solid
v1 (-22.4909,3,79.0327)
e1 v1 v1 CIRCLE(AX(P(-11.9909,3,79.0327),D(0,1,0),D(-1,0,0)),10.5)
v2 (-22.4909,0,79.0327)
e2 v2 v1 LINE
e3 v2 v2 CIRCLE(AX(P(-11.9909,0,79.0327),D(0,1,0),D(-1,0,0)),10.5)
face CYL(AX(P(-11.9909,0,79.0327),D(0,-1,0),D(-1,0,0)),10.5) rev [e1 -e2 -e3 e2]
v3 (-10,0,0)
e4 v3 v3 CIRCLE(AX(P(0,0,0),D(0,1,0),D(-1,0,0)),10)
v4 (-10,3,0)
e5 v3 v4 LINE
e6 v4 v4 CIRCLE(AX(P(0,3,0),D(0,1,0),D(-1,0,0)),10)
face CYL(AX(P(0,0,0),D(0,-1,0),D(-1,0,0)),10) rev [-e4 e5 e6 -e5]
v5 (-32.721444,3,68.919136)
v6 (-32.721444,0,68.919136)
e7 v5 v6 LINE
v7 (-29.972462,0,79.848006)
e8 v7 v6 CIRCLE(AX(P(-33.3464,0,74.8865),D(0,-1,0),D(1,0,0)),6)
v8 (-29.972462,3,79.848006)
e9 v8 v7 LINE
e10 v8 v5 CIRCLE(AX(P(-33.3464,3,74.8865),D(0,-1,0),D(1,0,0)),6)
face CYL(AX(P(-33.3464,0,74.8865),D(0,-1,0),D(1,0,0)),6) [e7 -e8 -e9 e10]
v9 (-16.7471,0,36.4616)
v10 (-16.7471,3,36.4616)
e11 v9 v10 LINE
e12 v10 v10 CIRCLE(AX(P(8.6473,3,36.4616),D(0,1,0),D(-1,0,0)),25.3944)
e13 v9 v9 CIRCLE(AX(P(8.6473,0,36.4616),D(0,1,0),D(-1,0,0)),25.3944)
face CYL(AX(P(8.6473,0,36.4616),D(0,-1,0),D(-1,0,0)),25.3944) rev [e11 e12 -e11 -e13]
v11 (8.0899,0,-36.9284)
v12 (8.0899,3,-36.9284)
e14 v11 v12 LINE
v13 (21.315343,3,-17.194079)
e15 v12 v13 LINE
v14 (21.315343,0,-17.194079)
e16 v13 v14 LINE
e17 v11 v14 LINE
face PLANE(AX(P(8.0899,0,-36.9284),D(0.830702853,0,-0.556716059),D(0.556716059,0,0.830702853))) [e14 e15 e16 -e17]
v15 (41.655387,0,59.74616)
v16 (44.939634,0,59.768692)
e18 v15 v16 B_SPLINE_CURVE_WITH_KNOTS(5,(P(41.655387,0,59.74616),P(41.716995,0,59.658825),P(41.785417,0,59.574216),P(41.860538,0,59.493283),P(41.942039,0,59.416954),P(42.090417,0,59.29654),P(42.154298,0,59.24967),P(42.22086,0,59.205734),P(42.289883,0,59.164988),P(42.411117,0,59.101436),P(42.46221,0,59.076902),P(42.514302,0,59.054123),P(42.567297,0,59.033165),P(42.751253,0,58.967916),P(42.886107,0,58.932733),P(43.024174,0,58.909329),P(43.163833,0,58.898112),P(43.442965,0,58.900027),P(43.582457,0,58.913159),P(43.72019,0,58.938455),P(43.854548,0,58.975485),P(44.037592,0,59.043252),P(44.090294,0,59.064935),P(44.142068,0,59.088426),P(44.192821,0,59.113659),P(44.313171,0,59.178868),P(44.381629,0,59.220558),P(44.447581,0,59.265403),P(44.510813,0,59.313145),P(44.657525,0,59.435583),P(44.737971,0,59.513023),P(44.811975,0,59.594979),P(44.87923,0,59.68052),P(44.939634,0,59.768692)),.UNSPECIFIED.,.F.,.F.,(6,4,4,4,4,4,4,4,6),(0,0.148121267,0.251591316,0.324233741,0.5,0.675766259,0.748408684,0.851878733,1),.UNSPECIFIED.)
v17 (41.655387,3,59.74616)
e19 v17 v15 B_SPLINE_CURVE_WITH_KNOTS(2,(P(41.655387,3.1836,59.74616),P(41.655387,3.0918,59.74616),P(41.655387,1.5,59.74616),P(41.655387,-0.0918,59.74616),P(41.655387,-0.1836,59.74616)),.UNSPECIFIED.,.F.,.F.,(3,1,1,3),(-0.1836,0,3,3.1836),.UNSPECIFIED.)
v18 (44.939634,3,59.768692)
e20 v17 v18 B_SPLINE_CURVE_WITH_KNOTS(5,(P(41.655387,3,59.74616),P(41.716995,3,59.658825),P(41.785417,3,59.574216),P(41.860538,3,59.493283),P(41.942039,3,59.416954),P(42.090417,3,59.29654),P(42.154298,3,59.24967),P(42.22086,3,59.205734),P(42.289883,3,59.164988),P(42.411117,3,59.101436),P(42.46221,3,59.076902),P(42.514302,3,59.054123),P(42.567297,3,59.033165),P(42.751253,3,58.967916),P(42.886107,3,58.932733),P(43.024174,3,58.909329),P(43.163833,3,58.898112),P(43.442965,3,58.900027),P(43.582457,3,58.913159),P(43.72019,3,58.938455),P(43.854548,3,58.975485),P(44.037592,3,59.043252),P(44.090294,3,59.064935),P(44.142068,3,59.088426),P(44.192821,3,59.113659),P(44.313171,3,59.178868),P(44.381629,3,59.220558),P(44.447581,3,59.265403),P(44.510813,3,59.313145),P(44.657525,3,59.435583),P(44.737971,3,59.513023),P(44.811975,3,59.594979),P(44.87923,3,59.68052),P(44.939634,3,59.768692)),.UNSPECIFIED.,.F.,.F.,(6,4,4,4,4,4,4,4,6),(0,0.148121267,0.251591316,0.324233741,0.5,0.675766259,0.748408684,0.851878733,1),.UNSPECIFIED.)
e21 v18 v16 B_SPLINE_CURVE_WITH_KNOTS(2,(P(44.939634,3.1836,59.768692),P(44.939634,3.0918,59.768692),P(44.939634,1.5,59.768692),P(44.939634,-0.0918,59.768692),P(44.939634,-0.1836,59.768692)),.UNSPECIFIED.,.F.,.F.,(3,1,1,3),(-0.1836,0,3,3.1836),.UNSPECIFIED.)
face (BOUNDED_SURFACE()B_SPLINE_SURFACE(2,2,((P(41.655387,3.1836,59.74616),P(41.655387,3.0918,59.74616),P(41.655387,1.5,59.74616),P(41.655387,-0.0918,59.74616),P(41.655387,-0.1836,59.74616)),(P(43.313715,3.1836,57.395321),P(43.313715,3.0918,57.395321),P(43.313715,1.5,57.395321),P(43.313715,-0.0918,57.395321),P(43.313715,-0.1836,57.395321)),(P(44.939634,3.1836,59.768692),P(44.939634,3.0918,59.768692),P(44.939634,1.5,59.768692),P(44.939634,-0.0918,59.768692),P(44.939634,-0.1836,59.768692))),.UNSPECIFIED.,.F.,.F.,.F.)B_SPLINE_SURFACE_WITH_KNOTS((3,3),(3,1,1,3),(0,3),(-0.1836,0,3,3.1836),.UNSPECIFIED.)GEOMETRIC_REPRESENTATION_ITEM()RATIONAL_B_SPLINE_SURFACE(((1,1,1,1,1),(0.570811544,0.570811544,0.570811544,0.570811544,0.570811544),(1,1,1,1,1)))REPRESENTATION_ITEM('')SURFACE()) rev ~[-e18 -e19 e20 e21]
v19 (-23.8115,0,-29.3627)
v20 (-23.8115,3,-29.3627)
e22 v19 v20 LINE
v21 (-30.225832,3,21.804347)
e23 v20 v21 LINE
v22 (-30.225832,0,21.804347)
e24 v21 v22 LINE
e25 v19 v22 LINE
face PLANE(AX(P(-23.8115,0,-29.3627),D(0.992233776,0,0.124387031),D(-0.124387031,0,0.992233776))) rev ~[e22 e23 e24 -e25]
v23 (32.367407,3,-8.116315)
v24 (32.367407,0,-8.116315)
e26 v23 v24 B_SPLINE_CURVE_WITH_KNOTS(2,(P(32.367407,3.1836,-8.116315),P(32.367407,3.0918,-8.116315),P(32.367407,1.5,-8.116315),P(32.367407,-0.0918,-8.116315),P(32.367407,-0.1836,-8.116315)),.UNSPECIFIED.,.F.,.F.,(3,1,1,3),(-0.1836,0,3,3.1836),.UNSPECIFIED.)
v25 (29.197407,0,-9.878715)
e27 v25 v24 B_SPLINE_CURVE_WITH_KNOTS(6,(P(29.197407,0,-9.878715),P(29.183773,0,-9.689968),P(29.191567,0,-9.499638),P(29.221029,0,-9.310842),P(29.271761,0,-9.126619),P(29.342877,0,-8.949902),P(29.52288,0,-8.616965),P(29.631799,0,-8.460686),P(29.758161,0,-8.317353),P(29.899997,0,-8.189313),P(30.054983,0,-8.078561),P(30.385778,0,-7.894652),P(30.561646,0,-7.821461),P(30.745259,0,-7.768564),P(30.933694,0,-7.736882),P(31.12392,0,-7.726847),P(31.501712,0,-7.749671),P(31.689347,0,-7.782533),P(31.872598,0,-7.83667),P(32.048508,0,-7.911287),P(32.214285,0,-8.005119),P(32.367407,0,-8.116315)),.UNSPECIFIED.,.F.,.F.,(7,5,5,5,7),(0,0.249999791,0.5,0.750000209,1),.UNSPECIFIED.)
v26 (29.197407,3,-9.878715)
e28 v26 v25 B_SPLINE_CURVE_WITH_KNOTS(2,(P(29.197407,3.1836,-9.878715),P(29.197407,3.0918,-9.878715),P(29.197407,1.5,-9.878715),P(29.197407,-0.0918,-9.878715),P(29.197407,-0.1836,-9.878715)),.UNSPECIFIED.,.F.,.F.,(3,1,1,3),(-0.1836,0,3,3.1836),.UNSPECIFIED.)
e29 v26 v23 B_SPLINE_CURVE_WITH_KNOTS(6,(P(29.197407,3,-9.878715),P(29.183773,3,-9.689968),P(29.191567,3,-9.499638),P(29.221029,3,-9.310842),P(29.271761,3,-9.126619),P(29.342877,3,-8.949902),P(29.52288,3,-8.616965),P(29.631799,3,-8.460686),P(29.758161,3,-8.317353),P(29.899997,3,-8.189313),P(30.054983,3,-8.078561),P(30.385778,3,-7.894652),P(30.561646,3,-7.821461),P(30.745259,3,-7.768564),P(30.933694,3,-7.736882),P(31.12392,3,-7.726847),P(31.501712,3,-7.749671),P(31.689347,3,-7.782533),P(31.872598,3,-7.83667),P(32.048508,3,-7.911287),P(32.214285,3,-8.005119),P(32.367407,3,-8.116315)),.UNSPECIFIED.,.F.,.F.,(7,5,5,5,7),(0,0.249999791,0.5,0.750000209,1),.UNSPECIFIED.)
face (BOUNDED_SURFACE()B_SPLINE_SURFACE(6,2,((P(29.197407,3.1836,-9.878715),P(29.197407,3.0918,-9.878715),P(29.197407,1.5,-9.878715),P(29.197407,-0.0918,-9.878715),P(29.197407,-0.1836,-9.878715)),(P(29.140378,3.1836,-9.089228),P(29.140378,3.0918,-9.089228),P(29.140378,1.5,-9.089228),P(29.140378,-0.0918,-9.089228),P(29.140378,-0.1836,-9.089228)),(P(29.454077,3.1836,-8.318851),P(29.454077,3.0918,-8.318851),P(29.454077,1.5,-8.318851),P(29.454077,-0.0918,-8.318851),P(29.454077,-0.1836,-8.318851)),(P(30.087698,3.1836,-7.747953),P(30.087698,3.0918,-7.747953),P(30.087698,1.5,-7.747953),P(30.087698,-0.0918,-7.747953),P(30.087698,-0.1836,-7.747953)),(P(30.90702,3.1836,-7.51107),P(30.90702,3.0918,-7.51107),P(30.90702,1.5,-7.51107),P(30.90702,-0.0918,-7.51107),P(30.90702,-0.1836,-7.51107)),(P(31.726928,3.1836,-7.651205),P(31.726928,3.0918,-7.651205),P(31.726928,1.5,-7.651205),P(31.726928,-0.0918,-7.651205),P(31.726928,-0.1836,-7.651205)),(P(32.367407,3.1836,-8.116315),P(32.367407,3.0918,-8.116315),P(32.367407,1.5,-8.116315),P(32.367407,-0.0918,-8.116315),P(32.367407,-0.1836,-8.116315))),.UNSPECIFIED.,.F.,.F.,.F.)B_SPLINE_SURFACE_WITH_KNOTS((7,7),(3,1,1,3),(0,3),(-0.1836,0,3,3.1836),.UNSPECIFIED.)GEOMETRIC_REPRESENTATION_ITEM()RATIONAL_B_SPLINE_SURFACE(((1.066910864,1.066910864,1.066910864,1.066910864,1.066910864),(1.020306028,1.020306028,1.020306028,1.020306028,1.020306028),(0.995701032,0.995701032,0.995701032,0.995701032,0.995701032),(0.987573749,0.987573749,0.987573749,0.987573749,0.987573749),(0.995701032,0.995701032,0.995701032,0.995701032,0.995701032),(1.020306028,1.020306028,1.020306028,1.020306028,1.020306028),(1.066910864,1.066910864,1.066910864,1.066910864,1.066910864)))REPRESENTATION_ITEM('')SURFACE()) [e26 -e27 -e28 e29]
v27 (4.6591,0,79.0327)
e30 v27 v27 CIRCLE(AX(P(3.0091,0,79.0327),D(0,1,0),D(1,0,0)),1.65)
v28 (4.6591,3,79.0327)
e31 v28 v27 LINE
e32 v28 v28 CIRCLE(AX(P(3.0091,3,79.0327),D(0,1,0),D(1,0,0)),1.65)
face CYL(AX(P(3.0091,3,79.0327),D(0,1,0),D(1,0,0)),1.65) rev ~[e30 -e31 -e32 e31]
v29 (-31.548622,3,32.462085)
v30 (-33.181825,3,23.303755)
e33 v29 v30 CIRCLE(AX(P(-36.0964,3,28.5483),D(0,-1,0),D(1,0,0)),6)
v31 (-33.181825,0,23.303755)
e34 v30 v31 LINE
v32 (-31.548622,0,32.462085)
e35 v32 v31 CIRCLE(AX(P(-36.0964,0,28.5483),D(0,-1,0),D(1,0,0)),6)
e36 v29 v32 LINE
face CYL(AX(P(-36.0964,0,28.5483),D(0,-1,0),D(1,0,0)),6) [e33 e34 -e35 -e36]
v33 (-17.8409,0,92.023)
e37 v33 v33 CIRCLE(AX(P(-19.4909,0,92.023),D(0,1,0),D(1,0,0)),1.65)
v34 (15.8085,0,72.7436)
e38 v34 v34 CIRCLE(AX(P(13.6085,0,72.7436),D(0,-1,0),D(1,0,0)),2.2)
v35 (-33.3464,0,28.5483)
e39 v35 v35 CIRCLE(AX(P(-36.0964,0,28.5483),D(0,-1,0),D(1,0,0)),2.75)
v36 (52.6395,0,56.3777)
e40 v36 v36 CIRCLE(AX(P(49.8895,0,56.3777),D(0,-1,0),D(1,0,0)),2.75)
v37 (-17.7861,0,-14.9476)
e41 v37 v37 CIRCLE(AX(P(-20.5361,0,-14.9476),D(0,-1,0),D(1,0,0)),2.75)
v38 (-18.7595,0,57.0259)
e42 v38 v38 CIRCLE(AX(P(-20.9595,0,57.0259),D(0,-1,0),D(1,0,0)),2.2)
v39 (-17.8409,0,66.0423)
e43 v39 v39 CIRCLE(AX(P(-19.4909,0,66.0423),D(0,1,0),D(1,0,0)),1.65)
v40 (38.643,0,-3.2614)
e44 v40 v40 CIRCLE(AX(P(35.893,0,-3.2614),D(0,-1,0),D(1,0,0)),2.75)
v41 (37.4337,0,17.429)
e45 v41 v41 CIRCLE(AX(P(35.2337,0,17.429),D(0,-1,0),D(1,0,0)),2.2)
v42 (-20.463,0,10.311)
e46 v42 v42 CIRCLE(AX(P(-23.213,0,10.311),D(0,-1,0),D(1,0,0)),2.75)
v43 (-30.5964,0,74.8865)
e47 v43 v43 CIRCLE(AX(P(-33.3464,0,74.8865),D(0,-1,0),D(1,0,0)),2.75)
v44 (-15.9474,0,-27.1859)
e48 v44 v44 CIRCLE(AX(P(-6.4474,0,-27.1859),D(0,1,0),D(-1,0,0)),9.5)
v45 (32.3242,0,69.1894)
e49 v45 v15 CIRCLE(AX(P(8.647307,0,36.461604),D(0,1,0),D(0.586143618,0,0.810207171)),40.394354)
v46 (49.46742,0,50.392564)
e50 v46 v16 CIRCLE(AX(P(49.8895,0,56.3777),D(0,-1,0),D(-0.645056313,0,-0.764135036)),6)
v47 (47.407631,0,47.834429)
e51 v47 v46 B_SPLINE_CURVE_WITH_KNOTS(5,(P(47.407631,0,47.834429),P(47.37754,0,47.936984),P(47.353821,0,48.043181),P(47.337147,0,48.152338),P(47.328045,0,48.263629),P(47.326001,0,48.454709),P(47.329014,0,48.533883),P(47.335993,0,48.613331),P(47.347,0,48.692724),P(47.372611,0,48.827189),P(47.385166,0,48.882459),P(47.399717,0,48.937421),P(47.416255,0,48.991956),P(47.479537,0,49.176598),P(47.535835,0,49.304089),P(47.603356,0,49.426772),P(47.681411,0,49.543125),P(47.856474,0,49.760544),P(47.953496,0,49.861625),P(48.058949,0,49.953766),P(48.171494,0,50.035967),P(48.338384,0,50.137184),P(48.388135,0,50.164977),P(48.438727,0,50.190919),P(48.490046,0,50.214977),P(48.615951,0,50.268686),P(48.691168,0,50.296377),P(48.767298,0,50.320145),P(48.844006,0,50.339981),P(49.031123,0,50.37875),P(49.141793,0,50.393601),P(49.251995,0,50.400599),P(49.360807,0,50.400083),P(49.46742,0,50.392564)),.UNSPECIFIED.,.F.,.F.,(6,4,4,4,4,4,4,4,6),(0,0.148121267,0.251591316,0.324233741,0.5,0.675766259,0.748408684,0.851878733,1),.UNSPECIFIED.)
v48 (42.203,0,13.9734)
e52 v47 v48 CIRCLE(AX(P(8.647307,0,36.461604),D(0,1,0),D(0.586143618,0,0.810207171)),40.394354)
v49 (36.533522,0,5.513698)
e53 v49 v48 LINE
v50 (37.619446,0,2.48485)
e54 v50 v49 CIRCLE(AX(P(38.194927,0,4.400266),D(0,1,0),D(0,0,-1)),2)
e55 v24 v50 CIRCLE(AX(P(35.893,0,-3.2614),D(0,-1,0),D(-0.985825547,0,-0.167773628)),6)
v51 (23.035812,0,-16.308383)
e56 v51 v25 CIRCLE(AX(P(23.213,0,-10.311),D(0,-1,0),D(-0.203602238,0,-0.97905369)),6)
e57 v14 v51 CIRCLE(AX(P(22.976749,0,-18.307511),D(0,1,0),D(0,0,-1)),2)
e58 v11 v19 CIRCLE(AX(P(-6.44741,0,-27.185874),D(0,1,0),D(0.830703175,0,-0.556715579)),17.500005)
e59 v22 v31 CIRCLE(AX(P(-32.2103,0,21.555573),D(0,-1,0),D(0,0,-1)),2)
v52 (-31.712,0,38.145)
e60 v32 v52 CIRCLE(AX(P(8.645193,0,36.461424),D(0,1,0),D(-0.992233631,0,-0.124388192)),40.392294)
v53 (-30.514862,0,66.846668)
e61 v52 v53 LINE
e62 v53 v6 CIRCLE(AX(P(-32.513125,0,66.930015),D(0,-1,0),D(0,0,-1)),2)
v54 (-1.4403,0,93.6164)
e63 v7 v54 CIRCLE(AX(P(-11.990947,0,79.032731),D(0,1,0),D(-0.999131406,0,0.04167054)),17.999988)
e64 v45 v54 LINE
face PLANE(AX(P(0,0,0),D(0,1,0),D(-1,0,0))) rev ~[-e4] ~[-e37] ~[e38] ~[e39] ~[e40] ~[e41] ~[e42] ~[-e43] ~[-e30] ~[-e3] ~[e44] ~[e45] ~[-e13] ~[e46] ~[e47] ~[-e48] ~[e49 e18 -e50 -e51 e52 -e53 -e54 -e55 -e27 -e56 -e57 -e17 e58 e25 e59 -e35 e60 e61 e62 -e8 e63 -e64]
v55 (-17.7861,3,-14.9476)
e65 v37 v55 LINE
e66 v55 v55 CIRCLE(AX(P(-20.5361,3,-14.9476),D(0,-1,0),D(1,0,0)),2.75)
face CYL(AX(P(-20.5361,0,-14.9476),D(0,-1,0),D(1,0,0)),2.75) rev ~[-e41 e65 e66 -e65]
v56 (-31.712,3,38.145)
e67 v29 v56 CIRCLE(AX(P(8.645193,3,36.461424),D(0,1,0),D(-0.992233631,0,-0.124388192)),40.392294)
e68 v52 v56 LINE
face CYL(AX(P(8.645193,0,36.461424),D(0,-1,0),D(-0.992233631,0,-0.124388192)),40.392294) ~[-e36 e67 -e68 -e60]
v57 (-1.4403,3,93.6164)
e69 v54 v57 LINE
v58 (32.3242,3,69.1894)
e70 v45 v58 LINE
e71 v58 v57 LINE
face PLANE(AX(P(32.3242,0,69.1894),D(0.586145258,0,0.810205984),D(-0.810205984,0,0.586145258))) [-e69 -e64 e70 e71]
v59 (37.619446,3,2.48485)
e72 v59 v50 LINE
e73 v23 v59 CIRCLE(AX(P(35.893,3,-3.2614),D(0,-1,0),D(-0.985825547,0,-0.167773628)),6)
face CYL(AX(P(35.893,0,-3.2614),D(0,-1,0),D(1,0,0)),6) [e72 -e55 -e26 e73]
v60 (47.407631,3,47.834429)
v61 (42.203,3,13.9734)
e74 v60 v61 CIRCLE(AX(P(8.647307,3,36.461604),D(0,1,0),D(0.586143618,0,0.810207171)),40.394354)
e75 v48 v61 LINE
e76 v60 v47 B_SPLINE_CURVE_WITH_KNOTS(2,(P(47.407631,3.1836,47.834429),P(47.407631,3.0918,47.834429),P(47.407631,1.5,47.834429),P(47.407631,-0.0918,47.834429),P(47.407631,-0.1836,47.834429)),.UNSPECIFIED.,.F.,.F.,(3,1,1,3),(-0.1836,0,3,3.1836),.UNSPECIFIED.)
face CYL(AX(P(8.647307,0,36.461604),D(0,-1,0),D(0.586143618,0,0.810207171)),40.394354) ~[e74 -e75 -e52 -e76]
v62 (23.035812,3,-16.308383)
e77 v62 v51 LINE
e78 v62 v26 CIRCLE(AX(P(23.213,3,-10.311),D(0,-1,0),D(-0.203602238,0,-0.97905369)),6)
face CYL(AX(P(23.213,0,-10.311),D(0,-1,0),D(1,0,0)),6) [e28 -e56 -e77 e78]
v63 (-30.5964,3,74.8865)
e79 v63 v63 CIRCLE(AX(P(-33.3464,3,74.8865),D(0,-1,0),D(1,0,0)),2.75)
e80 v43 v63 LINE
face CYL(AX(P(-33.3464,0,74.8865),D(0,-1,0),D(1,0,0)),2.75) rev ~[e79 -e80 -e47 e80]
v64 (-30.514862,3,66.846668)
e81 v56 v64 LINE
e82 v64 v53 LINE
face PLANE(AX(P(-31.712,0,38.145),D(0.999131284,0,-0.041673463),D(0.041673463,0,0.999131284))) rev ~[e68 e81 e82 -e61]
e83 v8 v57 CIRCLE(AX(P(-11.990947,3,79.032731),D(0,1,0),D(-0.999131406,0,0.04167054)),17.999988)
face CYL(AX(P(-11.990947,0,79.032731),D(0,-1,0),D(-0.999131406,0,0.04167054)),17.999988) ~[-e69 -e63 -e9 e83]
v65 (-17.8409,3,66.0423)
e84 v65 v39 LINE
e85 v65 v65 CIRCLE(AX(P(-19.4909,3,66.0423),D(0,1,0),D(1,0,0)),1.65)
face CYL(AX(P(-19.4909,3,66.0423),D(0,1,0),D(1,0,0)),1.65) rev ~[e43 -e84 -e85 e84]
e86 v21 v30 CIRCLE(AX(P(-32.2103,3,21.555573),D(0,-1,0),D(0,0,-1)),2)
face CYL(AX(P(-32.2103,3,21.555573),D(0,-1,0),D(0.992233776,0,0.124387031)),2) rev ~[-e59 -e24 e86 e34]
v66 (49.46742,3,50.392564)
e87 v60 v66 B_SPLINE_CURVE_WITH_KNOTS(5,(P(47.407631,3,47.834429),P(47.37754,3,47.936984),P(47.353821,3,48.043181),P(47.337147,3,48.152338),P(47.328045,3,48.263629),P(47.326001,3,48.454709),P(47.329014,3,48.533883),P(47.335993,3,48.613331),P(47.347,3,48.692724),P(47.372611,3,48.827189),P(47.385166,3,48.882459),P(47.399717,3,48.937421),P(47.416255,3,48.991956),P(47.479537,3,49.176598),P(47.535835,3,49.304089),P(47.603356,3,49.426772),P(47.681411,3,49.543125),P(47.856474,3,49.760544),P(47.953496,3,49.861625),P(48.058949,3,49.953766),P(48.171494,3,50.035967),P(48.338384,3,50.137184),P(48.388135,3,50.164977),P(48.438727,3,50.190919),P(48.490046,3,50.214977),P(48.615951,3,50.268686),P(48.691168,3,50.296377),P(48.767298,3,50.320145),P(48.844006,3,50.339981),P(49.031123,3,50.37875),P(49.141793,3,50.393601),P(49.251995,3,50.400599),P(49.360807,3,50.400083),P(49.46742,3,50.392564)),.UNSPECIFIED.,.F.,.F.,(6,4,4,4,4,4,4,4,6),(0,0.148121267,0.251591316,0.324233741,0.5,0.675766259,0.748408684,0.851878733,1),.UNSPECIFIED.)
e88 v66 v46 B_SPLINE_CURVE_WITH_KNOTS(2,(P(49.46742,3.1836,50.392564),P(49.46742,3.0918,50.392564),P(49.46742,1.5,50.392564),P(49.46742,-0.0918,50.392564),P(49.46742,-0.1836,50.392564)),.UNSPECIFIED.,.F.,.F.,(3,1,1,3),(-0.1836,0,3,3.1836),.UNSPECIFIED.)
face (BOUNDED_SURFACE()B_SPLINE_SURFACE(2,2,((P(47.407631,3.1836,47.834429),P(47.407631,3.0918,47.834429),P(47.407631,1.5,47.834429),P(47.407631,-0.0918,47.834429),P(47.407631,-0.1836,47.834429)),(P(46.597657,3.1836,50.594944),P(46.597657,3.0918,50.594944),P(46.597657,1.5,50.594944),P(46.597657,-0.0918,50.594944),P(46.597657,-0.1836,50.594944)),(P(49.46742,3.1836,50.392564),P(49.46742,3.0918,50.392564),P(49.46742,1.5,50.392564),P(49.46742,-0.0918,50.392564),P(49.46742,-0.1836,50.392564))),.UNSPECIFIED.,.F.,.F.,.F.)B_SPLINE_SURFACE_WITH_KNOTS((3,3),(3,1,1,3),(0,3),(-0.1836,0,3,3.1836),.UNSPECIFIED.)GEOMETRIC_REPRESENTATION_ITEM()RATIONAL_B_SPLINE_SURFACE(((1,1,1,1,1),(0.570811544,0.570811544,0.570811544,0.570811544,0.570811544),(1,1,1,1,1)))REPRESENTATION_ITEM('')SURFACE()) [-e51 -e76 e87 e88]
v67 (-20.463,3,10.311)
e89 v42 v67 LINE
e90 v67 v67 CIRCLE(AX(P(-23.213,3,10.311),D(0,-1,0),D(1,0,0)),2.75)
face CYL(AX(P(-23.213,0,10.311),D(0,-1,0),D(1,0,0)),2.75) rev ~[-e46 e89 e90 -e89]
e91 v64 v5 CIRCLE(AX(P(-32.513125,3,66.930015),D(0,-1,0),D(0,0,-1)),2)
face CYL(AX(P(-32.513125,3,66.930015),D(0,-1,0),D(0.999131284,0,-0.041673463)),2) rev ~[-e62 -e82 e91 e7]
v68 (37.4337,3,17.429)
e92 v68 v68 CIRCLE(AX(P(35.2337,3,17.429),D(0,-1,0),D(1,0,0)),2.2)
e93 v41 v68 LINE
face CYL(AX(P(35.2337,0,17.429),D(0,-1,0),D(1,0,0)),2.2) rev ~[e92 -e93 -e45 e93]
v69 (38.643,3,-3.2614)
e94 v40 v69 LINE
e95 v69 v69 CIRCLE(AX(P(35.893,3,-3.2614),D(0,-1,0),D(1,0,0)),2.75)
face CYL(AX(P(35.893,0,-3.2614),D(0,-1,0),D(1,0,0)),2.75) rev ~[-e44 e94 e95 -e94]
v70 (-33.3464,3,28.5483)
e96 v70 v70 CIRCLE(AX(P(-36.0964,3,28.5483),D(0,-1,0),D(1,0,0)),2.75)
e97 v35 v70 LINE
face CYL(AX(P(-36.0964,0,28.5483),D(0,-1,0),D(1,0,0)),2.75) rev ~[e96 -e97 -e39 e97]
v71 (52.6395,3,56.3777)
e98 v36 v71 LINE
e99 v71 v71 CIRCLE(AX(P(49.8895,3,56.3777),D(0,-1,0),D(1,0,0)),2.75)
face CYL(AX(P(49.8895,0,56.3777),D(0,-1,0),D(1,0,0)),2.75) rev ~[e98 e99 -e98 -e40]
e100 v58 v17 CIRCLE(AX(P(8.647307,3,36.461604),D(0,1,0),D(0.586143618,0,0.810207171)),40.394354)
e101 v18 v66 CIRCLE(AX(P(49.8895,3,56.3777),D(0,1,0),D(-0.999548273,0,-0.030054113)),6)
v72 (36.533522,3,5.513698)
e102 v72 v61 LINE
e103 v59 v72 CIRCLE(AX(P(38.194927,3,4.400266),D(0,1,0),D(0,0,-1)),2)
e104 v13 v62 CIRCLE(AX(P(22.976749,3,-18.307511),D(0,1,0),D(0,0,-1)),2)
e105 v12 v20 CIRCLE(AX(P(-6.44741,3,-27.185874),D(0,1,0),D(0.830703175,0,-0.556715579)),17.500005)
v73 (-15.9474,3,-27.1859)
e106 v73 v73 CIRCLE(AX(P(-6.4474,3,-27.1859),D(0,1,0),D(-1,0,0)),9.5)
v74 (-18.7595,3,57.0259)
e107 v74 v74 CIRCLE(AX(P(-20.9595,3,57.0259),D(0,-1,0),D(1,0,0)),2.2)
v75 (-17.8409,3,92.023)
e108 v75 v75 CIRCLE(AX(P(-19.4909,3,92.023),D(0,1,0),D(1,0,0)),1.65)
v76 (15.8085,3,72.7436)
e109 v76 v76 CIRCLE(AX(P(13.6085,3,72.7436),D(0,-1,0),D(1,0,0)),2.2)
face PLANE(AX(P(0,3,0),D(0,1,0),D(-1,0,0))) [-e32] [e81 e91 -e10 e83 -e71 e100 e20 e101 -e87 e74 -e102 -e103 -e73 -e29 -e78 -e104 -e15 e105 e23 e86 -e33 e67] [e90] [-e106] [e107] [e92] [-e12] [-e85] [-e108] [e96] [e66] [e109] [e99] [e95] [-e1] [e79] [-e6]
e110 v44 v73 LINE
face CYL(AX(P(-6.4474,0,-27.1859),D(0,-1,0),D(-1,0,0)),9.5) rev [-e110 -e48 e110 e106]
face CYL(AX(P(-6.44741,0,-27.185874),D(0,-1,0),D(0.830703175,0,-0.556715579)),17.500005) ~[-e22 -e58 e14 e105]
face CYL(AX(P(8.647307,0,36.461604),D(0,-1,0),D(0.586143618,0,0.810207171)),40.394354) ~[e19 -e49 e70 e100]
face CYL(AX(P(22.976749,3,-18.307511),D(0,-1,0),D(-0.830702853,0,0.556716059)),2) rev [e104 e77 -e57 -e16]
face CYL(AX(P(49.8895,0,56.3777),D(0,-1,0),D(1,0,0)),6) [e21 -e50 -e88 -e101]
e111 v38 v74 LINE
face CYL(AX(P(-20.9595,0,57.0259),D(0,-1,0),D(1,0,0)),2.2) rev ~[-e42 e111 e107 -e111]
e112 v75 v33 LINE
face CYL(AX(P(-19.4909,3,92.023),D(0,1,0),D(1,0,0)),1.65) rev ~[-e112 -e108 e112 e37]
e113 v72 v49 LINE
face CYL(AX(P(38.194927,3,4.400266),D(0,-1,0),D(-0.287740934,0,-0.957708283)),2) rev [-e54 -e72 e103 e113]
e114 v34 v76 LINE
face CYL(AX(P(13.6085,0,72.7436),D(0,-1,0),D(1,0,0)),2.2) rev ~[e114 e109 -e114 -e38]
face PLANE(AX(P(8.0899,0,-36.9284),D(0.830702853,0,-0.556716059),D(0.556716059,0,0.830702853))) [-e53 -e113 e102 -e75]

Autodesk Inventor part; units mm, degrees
ref_plane "YZ Plane" through (0, 0, 0) normal (1, 0, 0) x (0, 1, 0)
ref_plane "XZ Plane" through (0, 0, 0) normal (0, 1, 0) x (-1, 0, 0)
ref_plane "XY Plane" through (0, 0, 0) normal (0, 0, 1) x (1, 0, 0)
sketch "Sketch1" plane through (0, 0, 0) normal (0, 1, 0) x (-1, 0, 0)
  circle A0 centre (0, 0) radius 10
  circle A1 centre (11.9909, 79.0327) radius 10 construction
  circle A2 centre (11.9909, 79.0327) radius 10.5
  circle A3 centre (-8.6473, 36.4616) radius 22.3944 construction
  circle A4 centre (-8.6473, 36.4616) radius 25.3944
  circle A5 centre (6.4474, -27.1859) radius 9.5 projected
  arc A6 (1.4403, 93.6164) -> (29.9753, 79.7828) centre (11.9909, 79.0327) ccw construction
  arc A7 (-42.203, 13.9734) -> (31.4334, 31.4371) centre (-8.6473, 36.4616) ccw construction
  arc A8 (23.8115, -29.3627) -> (-8.0899, -36.9284) centre (6.4474, -27.1859) ccw construction
  line L0 (-8.0899, -36.9284) -> (-42.203, 13.9734)
  line L1 (23.8115, -29.3627) -> (31.4334, 31.4371)
  line L2 (-32.3242, 69.1894) -> (1.4403, 93.6164)
  line L3 (31.712, 38.145) -> (29.9753, 79.7828)
  arc A9 (29.9753, 79.7828) -> (1.4403, 93.6164) centre (11.9909, 79.0327) ccw
  arc A10 (-32.3242, 69.1894) -> (-42.203, 13.9734) centre (-8.6473, 36.4616) ccw
  arc A11 (31.712, 38.145) -> (-32.3242, 69.1894) centre (-8.6473, 36.4616) ccw construction
  arc A12 (31.4334, 31.4371) -> (31.712, 38.145) centre (-8.6473, 36.4616) ccw
  arc A13 (-8.0899, -36.9284) -> (23.8115, -29.3627) centre (6.4474, -27.1859) ccw
  dimension "d0" = 20
  dimension "d5" = 0.5
  dimension "d6" = 3
  dimension "d7" = 8
  dimension "d8" = 15
  dimension "d9" = 8
extrude "Extrusion1" add sketch "Sketch1" along normal blind 3
sketch "Sketch2" plane through (0, 0, 0) normal (0, -1, 0) x (1, 0, 0)
  circle A0 centre (35.2337, 17.429) radius 2.2
  circle A1 centre (-20.9595, 57.0259) radius 2.2
  circle A2 centre (13.6085, 72.7436) radius 2.2
  point P0 (0, 0)
  dimension "d12" = 4.4
  dimension "d13" = 4.4
  dimension "d14" = 4.4
extrude "Extrusion2" cut sketch "Sketch2" against normal blind 5
sketch "Sketch3" plane through (0, 0, 0) normal (0, -1, 0) x (1, 0, 0)
  circle A0 centre (35.893, -3.2614) radius 2.75
  circle A1 centre (35.893, -3.2614) radius 6
  circle A2 centre (49.8895, 56.3777) radius 2.75
  circle A3 centre (49.8895, 56.3777) radius 6
  circle A4 centre (-36.0964, 28.5483) radius 2.75
  circle A5 centre (-36.0964, 28.5483) radius 6
  circle A6 centre (-33.3464, 74.8865) radius 2.75
  circle A7 centre (-33.3464, 74.8865) radius 6
  point P0 (0, 0)
  dimension "d18" = 5.5
  dimension "d19" = 12
  dimension "d20" = 5.5
  dimension "d21" = 12
  dimension "d22" = 5.5
  dimension "d23" = 12
  dimension "d24" = 5.5
  dimension "d25" = 12
extrude "Extrusion3" add sketch "Sketch3" against normal blind 3
fillet "Fillet1" radius 2 6 edges at (29.978, 1.5, -4.268) (34.5756, 1.5, 2.5922) (46.0191, 1.5, 51.793) (43.8922, 1.5, 56.1973) (-30.3974, 1.5, 69.6612) (-30.7339, 1.5, 25.857)
sketch "Sketch4" plane through (0, 0, 0) normal (0, -1, 0) x (1, 0, 0)
  circle A0 centre (23.213, -10.311) radius 2.413 projected
  circle A1 centre (-23.213, 10.311) radius 2.413 projected
  circle A2 centre (-20.5361, -14.9476) radius 2.413 projected
  circle A3 centre (23.213, -10.311) radius 2.75
  circle A4 centre (-23.213, 10.311) radius 2.75
  circle A5 centre (-20.5361, -14.9476) radius 2.75
  point P0 (0, 0)
  dimension "d29" = 5.5
  dimension "d30" = 5.5
  dimension "d31" = 5.5
extrude "Extrusion4" cut sketch "Sketch4" against normal through all contours A0 | A1 | A2 | A3 | A4 | A5
sketch "Sketch5" plane through (0, 0, 0) normal (0, -1, 0) x (1, 0, 0)
  circle A0 centre (23.213, -10.311) radius 2.75 projected
  circle A1 centre (23.213, -10.311) radius 2.75
  circle A2 centre (23.213, -10.311) radius 6
  point P0 (0, 0)
  point P1 (25.9625, -10.2598)
  point P2 (24.2108, -12.8736)
  dimension "d34" = 12
extrude "Extrusion5" add sketch "Sketch5" against normal blind 3 contours A0 | A2
fillet "Fillet2" radius 2 2 edges at (28.1941, 1.5, -6.966) (21.9914, 1.5, -16.1853)
sketch "Sketch6" plane through (0, 3, 0) normal (0, 1, 0) x (1, 0, 0)
  circle A0 centre (-11.9909, -79.0327) radius 10.5 projected
  circle A1 centre (3.0091, -79.0327) radius 1.65
  line L0 (3.0091, -79.0327) -> (-11.9909, -79.0327) construction
  circle A2 centre (-19.4909, -66.0423) radius 1.65
  circle A3 centre (-19.4909, -92.023) radius 1.65
  point P0 (0, 0)
  dimension "d38" = 3.3
  dimension "d39" = 15
  dimension "d42" = 360
extrude "Extrusion6" cut sketch "Sketch6" against normal blind 10 contours A1 | A2 | A3
properties part number "Motor Mount Plate" material "Aluminum 6061"
